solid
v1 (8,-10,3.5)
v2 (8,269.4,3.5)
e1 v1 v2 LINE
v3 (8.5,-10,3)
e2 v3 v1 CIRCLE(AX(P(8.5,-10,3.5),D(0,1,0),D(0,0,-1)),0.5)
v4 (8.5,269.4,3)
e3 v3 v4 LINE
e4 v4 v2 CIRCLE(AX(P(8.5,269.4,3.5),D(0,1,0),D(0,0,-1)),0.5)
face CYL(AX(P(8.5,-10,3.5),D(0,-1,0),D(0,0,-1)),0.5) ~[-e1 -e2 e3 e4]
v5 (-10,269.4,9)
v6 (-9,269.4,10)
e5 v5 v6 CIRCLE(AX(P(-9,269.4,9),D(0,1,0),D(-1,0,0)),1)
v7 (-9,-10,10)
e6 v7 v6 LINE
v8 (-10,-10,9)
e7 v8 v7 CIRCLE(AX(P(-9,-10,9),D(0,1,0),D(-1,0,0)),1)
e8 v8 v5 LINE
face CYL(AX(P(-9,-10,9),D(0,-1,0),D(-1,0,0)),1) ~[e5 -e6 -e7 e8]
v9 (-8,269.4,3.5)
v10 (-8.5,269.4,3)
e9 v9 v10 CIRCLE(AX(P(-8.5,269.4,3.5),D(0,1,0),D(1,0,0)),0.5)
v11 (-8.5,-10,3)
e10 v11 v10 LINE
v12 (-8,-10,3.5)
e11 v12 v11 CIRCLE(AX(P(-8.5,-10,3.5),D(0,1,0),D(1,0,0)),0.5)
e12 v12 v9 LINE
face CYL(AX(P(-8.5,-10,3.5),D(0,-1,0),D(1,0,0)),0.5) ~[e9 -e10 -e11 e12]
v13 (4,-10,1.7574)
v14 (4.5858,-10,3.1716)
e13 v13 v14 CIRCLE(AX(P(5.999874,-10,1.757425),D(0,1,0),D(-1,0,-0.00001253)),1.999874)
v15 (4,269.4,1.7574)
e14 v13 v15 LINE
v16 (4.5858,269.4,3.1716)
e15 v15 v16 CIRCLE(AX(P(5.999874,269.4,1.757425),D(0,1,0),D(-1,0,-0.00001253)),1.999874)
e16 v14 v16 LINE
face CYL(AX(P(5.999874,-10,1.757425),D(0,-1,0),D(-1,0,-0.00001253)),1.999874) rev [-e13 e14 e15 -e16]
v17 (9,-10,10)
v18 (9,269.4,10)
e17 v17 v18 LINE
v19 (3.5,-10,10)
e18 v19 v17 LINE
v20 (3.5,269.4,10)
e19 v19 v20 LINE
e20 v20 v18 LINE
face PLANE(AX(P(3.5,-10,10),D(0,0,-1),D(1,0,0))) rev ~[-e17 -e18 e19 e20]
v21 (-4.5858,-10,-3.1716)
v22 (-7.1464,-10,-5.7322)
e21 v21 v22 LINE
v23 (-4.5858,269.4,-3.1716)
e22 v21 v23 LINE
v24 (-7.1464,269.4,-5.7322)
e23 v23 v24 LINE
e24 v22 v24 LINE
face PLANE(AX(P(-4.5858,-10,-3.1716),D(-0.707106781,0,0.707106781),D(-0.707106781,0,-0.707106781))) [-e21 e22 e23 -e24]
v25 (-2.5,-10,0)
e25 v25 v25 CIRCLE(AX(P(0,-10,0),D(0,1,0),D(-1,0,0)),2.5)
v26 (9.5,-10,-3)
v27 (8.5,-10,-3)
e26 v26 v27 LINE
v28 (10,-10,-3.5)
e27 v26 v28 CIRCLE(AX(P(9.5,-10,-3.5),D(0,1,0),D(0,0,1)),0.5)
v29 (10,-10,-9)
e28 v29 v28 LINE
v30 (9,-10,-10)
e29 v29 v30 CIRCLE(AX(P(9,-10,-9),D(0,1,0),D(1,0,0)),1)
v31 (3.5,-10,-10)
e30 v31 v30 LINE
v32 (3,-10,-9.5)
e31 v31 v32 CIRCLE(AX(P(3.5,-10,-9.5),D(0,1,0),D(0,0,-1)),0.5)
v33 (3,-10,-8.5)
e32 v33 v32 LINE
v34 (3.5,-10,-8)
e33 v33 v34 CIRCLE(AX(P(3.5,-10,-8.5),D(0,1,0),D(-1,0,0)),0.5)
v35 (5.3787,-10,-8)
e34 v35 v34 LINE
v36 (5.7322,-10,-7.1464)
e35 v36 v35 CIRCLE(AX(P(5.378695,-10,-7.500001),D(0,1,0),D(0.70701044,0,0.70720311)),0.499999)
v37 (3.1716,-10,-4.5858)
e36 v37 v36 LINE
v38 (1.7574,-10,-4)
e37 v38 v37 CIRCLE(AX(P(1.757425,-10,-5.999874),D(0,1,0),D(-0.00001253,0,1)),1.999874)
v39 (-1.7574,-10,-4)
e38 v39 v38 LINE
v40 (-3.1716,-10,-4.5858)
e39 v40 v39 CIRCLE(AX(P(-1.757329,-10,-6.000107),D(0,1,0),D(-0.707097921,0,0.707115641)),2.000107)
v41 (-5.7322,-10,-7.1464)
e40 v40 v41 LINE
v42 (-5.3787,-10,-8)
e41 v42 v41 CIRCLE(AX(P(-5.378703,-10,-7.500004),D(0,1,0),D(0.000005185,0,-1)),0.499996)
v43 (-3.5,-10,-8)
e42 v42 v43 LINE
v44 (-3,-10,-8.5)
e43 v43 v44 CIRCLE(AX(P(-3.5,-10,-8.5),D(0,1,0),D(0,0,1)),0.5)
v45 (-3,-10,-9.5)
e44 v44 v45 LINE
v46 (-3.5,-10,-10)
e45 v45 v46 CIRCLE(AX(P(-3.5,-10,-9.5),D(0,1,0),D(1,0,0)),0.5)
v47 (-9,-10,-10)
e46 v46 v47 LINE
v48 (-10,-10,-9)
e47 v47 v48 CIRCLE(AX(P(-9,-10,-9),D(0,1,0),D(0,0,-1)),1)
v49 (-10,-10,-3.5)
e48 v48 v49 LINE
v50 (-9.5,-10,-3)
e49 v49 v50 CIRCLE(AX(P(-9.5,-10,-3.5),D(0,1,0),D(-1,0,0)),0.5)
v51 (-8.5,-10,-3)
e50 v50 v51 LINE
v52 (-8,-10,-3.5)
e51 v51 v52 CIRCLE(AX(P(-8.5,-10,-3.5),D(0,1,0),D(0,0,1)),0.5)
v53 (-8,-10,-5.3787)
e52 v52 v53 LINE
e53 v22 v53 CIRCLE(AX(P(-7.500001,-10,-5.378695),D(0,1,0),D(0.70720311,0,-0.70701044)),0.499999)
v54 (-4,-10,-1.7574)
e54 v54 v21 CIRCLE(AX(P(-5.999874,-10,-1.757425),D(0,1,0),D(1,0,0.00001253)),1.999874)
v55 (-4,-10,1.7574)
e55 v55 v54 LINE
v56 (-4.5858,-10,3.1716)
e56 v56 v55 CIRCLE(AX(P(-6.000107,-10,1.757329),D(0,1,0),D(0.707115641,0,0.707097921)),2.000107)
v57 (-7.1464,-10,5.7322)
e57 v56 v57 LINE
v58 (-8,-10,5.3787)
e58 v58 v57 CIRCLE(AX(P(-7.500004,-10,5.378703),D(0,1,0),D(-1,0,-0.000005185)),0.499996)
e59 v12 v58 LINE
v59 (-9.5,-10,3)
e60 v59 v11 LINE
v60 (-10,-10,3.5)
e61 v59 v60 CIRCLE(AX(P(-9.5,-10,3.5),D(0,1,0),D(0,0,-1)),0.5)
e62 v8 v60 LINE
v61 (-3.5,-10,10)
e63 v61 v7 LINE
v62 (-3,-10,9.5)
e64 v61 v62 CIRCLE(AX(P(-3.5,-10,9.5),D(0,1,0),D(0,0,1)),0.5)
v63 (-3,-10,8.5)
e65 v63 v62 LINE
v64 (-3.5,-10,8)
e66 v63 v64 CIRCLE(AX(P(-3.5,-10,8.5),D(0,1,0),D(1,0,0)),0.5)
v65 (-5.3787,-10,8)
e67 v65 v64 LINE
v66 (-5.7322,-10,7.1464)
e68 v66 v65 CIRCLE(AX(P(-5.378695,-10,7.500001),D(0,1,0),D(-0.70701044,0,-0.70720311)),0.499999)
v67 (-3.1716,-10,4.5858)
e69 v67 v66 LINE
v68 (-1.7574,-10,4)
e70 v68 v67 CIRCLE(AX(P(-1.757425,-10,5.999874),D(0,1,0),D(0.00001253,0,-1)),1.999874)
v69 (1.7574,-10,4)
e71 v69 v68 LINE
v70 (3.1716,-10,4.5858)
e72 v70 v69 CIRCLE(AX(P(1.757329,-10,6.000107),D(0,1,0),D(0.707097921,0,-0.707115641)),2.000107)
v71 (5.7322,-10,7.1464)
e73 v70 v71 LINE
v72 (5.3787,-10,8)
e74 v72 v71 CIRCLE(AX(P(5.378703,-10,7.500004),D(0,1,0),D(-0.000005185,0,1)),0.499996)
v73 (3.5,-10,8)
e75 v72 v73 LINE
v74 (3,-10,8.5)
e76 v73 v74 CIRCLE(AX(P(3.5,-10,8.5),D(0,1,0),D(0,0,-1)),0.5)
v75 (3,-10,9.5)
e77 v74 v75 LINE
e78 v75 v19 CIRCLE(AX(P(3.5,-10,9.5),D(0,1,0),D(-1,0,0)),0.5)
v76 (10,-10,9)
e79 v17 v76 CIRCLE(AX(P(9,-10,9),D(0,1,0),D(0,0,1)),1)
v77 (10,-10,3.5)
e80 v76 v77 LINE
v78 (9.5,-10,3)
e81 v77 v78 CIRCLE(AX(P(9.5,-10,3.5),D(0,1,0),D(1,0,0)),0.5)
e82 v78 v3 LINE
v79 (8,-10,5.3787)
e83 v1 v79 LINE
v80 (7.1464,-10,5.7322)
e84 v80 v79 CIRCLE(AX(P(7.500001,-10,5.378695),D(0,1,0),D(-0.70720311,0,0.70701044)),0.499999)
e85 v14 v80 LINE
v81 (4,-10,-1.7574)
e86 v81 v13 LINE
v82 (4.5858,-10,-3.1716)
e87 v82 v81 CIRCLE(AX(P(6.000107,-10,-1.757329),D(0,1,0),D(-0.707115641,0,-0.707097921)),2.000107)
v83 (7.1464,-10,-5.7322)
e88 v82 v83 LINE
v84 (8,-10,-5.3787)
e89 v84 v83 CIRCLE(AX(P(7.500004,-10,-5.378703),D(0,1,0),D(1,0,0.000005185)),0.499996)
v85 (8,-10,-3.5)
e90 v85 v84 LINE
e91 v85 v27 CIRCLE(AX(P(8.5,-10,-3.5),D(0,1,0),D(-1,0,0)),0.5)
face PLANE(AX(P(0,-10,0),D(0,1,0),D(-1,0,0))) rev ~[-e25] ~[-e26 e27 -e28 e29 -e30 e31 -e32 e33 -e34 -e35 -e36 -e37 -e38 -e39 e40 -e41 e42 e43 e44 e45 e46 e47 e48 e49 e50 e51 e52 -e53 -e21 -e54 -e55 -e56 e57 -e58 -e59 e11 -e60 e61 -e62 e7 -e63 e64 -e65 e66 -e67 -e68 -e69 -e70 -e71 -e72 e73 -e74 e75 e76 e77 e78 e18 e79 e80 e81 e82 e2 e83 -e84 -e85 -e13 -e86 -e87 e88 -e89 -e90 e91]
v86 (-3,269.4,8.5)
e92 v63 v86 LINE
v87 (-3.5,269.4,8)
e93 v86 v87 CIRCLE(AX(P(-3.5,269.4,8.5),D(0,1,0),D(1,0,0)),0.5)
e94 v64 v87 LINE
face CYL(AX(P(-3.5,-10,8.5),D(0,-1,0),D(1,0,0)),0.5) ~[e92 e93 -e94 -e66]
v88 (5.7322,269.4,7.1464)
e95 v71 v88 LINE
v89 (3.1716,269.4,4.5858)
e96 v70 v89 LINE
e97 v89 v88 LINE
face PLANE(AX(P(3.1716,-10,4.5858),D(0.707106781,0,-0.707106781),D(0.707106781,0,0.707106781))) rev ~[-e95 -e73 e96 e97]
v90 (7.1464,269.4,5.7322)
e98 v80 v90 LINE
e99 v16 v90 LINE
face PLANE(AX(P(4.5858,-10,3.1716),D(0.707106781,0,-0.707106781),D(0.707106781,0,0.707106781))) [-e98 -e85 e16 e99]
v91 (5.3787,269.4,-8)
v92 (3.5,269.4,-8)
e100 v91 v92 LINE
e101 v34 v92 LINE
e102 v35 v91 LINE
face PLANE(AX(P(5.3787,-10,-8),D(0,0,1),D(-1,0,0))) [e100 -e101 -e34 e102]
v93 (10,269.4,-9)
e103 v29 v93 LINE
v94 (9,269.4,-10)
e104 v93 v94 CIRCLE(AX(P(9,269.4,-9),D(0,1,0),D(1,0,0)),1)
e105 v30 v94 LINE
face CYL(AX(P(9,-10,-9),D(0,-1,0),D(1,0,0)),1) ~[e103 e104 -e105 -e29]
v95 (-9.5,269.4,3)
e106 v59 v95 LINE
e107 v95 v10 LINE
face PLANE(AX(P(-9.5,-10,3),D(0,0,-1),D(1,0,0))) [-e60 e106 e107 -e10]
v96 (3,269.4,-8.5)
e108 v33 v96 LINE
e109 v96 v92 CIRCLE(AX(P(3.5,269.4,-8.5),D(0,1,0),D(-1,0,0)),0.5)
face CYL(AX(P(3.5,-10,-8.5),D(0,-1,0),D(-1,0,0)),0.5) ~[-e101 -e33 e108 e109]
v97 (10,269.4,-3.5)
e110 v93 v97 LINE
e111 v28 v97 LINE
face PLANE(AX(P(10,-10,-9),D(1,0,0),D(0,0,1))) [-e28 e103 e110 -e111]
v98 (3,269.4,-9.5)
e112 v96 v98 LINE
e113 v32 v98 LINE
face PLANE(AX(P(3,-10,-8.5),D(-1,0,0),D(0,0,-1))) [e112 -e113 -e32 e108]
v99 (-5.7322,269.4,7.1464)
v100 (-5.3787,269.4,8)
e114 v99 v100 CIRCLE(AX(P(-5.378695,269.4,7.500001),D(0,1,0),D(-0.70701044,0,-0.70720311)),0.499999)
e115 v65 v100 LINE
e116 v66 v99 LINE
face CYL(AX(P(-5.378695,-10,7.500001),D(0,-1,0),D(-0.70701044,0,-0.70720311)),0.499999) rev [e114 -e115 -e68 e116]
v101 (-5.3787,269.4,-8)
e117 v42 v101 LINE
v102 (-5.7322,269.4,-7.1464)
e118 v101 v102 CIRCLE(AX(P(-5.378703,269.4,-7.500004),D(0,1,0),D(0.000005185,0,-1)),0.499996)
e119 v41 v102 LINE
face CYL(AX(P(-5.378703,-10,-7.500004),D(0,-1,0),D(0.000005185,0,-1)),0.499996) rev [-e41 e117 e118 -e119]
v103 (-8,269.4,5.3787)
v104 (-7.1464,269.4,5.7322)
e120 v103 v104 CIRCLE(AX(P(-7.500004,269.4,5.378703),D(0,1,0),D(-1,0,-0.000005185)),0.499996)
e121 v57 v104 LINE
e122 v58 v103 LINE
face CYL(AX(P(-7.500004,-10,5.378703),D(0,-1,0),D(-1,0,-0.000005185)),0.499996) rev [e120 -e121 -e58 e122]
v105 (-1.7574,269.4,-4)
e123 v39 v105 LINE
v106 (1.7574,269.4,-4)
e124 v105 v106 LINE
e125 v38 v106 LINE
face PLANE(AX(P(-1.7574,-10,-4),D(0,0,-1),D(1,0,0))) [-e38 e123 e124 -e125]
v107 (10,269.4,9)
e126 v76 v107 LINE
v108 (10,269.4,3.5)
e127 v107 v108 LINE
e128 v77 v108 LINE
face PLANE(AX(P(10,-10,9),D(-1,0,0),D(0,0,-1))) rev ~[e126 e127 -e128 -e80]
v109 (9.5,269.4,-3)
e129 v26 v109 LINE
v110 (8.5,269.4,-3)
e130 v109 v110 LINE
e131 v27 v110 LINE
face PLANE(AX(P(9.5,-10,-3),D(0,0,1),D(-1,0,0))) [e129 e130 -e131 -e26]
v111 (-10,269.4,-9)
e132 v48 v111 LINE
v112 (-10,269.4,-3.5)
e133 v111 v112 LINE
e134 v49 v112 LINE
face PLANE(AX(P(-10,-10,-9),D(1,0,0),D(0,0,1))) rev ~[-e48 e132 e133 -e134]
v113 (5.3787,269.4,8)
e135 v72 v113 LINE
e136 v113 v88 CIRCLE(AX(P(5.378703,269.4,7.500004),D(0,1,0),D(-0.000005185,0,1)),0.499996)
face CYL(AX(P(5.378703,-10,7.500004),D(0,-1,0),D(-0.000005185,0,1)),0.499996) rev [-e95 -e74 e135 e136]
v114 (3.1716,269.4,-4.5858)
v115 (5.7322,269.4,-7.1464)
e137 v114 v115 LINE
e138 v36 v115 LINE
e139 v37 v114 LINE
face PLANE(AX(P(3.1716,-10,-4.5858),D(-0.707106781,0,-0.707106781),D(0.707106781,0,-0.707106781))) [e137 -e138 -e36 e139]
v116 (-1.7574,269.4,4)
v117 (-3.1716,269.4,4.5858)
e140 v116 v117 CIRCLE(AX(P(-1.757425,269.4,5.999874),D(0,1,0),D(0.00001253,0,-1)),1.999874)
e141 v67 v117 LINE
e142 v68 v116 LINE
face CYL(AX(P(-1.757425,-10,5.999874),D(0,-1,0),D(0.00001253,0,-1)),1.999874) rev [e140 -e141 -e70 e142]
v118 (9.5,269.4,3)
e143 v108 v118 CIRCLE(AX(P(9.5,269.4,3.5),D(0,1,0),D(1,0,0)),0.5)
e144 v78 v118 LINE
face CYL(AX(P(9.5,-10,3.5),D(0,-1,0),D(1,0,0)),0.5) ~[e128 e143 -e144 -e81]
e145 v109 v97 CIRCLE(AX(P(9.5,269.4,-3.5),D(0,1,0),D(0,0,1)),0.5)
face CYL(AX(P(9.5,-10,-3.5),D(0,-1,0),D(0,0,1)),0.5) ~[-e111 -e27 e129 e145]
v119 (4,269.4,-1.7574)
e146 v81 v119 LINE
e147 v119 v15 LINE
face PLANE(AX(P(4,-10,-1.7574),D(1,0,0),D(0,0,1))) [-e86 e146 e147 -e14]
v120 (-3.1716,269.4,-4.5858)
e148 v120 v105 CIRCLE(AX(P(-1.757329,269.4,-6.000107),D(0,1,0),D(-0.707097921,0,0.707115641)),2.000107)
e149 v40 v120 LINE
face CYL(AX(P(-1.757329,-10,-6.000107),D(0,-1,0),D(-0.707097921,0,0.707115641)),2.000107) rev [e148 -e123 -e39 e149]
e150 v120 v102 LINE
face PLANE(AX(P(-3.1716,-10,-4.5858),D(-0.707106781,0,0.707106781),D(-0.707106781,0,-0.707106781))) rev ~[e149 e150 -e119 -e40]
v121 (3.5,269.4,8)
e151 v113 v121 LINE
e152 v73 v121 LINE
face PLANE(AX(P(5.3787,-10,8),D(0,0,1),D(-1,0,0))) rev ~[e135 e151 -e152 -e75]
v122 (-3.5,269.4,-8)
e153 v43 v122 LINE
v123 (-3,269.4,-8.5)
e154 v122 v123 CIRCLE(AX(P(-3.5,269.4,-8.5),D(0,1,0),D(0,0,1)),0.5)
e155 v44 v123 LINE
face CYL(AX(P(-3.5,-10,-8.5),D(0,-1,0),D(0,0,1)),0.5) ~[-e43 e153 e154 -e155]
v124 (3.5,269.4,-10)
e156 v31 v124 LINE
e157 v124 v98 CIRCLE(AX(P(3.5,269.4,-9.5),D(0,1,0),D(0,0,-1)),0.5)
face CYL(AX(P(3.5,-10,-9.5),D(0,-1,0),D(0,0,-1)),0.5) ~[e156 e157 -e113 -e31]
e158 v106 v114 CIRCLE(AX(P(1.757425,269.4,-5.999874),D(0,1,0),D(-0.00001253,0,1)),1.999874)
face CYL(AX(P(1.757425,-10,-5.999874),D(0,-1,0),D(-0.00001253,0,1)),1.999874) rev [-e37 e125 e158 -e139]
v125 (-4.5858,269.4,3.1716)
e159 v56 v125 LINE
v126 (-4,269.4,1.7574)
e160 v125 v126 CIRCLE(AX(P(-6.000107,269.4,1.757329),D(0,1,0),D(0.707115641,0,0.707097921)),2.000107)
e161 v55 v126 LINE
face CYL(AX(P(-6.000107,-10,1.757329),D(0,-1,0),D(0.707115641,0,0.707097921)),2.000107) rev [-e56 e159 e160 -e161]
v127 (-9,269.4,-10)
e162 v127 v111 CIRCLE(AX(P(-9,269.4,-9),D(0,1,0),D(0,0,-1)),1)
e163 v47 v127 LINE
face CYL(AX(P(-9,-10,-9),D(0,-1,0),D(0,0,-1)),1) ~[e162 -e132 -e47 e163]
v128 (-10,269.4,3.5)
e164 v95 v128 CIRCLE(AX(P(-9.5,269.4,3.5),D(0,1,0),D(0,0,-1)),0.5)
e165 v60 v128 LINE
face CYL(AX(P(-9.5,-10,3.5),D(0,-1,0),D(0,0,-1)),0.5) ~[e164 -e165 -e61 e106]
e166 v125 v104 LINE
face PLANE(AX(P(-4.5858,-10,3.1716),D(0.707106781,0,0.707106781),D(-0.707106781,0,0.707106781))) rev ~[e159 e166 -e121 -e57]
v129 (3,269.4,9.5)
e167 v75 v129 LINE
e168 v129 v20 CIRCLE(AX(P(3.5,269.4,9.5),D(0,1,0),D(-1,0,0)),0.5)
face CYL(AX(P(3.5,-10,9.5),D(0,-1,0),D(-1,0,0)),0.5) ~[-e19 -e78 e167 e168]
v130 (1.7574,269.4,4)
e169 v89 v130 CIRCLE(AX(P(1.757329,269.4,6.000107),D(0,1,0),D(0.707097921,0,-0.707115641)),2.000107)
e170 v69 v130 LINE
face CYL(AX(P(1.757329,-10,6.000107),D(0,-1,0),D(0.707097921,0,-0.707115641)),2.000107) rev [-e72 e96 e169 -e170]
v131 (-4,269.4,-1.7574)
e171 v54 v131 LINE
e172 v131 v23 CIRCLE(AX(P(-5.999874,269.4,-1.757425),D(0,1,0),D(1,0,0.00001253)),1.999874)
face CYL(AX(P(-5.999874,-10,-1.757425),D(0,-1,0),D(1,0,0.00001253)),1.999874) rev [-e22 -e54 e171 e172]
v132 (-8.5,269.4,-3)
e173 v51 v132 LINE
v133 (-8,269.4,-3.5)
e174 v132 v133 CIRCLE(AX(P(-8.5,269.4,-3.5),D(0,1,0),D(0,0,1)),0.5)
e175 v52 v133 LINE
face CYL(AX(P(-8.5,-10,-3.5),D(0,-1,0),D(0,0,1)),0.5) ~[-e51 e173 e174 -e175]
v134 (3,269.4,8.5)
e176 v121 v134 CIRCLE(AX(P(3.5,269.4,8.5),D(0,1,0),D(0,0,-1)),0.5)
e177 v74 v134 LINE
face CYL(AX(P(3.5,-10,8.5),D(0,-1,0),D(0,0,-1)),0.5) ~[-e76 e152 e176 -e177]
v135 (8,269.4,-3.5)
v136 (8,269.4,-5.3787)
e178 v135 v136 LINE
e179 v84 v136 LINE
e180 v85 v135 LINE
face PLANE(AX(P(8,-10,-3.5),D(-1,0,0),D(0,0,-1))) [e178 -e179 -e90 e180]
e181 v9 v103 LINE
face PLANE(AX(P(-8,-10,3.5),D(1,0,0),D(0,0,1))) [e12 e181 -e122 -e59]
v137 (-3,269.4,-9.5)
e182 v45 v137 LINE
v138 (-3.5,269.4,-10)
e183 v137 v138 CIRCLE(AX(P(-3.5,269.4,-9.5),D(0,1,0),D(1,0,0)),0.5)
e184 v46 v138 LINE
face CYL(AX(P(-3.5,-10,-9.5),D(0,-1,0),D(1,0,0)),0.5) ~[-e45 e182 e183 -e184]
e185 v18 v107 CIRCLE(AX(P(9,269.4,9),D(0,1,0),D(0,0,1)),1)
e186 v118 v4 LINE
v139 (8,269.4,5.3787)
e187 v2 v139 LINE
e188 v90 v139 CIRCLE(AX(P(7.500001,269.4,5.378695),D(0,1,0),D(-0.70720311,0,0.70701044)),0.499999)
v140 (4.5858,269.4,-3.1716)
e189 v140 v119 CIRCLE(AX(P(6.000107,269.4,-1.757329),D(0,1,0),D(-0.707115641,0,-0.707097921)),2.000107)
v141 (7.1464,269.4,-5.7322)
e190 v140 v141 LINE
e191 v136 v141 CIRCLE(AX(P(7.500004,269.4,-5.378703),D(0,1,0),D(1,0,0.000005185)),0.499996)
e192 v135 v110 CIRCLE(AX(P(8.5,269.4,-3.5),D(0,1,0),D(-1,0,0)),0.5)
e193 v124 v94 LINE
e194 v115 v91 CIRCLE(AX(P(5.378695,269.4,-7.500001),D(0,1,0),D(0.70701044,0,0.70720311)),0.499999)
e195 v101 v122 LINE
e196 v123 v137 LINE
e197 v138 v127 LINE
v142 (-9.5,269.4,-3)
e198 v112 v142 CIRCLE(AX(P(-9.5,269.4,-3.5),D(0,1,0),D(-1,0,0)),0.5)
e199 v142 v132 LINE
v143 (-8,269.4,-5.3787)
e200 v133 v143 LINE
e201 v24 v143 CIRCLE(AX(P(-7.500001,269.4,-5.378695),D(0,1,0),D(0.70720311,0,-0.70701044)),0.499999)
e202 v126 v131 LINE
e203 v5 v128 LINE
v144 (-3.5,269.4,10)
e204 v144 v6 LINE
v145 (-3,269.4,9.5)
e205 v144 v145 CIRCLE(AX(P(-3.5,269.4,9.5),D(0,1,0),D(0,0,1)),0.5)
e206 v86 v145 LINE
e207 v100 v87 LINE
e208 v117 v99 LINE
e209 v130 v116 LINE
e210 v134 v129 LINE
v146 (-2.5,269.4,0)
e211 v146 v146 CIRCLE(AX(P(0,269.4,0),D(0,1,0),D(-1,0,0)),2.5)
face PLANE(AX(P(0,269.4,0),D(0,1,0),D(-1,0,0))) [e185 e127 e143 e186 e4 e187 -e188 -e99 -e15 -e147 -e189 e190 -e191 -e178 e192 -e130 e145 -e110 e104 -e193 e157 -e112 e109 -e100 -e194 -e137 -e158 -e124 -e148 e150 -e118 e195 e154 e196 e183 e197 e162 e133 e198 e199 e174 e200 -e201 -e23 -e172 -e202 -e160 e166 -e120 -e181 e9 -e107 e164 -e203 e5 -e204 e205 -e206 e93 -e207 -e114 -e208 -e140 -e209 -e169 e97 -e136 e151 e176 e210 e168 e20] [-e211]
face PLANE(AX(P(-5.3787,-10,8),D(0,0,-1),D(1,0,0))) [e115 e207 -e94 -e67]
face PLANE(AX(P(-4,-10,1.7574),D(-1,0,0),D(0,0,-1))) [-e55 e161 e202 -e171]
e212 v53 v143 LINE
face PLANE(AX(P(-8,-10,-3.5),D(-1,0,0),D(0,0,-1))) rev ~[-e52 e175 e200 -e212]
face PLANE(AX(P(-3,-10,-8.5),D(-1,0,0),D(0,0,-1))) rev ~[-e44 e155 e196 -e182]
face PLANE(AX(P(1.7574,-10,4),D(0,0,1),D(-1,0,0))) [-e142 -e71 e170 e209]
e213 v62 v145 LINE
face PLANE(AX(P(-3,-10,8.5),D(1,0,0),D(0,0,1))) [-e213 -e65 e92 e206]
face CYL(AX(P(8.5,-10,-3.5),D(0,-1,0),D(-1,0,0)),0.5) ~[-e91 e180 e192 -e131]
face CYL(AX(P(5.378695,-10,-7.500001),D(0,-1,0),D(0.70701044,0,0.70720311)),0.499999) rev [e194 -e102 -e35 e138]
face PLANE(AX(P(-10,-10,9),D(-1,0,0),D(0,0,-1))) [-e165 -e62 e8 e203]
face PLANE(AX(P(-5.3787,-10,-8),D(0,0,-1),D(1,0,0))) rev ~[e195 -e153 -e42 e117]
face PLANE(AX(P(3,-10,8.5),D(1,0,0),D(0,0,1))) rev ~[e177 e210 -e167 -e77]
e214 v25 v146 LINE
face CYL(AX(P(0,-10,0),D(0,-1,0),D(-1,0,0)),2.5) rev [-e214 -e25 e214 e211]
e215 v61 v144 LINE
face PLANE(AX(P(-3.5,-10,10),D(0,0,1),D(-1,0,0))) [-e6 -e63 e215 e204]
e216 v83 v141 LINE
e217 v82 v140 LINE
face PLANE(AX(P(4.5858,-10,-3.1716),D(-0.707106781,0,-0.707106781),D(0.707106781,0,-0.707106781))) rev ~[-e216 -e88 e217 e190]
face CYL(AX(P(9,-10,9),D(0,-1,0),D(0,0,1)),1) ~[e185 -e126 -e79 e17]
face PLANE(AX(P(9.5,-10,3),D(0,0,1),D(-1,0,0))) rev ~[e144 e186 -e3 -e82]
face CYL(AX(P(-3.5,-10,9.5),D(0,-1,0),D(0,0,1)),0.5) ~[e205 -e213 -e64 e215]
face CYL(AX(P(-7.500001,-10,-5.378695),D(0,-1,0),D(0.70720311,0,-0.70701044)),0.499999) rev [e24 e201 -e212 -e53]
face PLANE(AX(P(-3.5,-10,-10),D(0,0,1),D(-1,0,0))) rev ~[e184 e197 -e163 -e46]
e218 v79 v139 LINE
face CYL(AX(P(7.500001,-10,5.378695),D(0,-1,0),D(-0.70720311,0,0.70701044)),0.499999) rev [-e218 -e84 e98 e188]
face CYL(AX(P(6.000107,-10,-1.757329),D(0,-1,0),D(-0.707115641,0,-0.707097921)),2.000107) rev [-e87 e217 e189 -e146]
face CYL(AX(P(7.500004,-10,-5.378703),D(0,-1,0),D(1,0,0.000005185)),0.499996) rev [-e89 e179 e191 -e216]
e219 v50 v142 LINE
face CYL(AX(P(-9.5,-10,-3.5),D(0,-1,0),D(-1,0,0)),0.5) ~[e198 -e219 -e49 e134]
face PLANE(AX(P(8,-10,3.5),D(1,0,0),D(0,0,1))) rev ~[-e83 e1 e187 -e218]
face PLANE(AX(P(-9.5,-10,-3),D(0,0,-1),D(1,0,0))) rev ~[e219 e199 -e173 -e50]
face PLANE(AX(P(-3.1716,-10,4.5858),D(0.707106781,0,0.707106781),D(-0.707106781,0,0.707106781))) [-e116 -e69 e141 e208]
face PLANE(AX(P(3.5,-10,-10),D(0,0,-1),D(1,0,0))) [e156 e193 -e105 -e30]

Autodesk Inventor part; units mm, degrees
ref_plane "Start Plane" through (0, -10, 0) normal (0, 1, 0) x (-1, 0, 0)
ref_plane "End Plane" through (0, 269.4, 0) normal (0, 1, 0) x (-1, 0, 0)
sketch "Sketch" plane through (0, 0, 0) normal (0, 1, 0) x (-1, 0, 0)
  line L0 (-1.7574, 4) -> (1.7574, 4)
  line L1 (4, 1.7574) -> (4, -1.7574)
  line L2 (1.7574, -4) -> (-1.7574, -4)
  line L3 (-4, -1.7574) -> (-4, 1.7574)
  line L4 (4.5858, -3.1716) -> (7.1464, -5.7322)
  line L5 (3.1716, -4.5858) -> (5.7322, -7.1464)
  line L6 (5.3787, -8) -> (3.5, -8)
  line L7 (3, -8.5) -> (3, -9.5)
  line L8 (3.5, -10) -> (9, -10)
  line L9 (10, -9) -> (10, -3.5)
  line L10 (9.5, -3) -> (8.5, -3)
  line L11 (8, -3.5) -> (8, -5.3787)
  line L12 (4, 0) -> (-4, 0) construction
  line L13 (0, -4) -> (0, 4) construction
  arc A0 (4, -1.7574) -> (4.5858, -3.1716) centre (6, -1.7574) ccw
  arc A1 (3.1716, -4.5858) -> (1.7574, -4) centre (1.7574, -6) ccw
  arc A2 (3.5, -8) -> (3, -8.5) centre (3.5, -8.5) ccw
  arc A3 (3, -9.5) -> (3.5, -10) centre (3.5, -9.5) ccw
  arc A4 (10, -3.5) -> (9.5, -3) centre (9.5, -3.5) ccw
  arc A5 (8.5, -3) -> (8, -3.5) centre (8.5, -3.5) ccw
  arc A6 (7.1464, -5.7322) -> (8, -5.3787) centre (7.5, -5.3787) ccw
  arc A7 (5.3787, -8) -> (5.7322, -7.1464) centre (5.3787, -7.5) ccw
  arc A8 (9, -10) -> (10, -9) centre (9, -9) ccw
  line L14 (-4.5858, -3.1716) -> (-7.1464, -5.7322)
  line L15 (-3.1716, -4.5858) -> (-5.7322, -7.1464)
  line L16 (-5.3787, -8) -> (-3.5, -8)
  line L17 (-3, -8.5) -> (-3, -9.5)
  line L18 (-3.5, -10) -> (-9, -10)
  line L19 (-10, -9) -> (-10, -3.5)
  line L20 (-9.5, -3) -> (-8.5, -3)
  line L21 (-8, -3.5) -> (-8, -5.3787)
  arc A9 (-4.5858, -3.1716) -> (-4, -1.7574) centre (-6, -1.7574) ccw
  arc A10 (-1.7574, -4) -> (-3.1716, -4.5858) centre (-1.7574, -6) ccw
  arc A11 (-3, -8.5) -> (-3.5, -8) centre (-3.5, -8.5) ccw
  arc A12 (-3.5, -10) -> (-3, -9.5) centre (-3.5, -9.5) ccw
  arc A13 (-9.5, -3) -> (-10, -3.5) centre (-9.5, -3.5) ccw
  arc A14 (-8, -3.5) -> (-8.5, -3) centre (-8.5, -3.5) ccw
  arc A15 (-8, -5.3787) -> (-7.1464, -5.7322) centre (-7.5, -5.3787) ccw
  arc A16 (-5.7322, -7.1464) -> (-5.3787, -8) centre (-5.3787, -7.5) ccw
  arc A17 (-10, -9) -> (-9, -10) centre (-9, -9) ccw
  line L22 (4.5858, 3.1716) -> (7.1464, 5.7322)
  line L23 (3.1716, 4.5858) -> (5.7322, 7.1464)
  line L24 (5.3787, 8) -> (3.5, 8)
  line L25 (3, 8.5) -> (3, 9.5)
  line L26 (3.5, 10) -> (9, 10)
  line L27 (10, 9) -> (10, 3.5)
  line L28 (9.5, 3) -> (8.5, 3)
  line L29 (8, 3.5) -> (8, 5.3787)
  arc A18 (4.5858, 3.1716) -> (4, 1.7574) centre (6, 1.7574) ccw
  arc A19 (1.7574, 4) -> (3.1716, 4.5858) centre (1.7574, 6) ccw
  arc A20 (3, 8.5) -> (3.5, 8) centre (3.5, 8.5) ccw
  arc A21 (3.5, 10) -> (3, 9.5) centre (3.5, 9.5) ccw
  arc A22 (9.5, 3) -> (10, 3.5) centre (9.5, 3.5) ccw
  arc A23 (8, 3.5) -> (8.5, 3) centre (8.5, 3.5) ccw
  arc A24 (8, 5.3787) -> (7.1464, 5.7322) centre (7.5, 5.3787) ccw
  arc A25 (5.7322, 7.1464) -> (5.3787, 8) centre (5.3787, 7.5) ccw
  arc A26 (10, 9) -> (9, 10) centre (9, 9) ccw
  line L30 (-10, 9) -> (-10, 3.5)
  arc A27 (-9, 10) -> (-10, 9) centre (-9, 9) ccw
  arc A28 (-10, 3.5) -> (-9.5, 3) centre (-9.5, 3.5) ccw
  line L31 (-9.5, 3) -> (-8.5, 3)
  arc A29 (-8.5, 3) -> (-8, 3.5) centre (-8.5, 3.5) ccw
  line L32 (-8, 3.5) -> (-8, 5.3787)
  arc A30 (-7.1464, 5.7322) -> (-8, 5.3787) centre (-7.5, 5.3787) ccw
  line L33 (-4.5858, 3.1716) -> (-7.1464, 5.7322)
  line L34 (-3.1716, 4.5858) -> (-5.7322, 7.1464)
  arc A31 (-3.1716, 4.5858) -> (-1.7574, 4) centre (-1.7574, 6) ccw
  arc A32 (-4, 1.7574) -> (-4.5858, 3.1716) centre (-6, 1.7574) ccw
  arc A33 (-5.3787, 8) -> (-5.7322, 7.1464) centre (-5.3787, 7.5) ccw
  line L35 (-5.3787, 8) -> (-3.5, 8)
  arc A34 (-3.5, 8) -> (-3, 8.5) centre (-3.5, 8.5) ccw
  line L36 (-3, 8.5) -> (-3, 9.5)
  arc A35 (-3, 9.5) -> (-3.5, 10) centre (-3.5, 9.5) ccw
  line L37 (-3.5, 10) -> (-9, 10)
  circle A36 centre (0, 0) radius 2.5
  point P0 (3, -8)
  point P1 (3, -10)
  point P2 (10, -10)
  dimension "d3" = 2
  dimension "d4" = 2
  dimension "d5" = 7
  dimension "d6" = 2
  dimension "d7" = 0.5
  dimension "d8" = 1
  dimension "d9" = 20
  dimension "d10" = 20
  dimension "d11" = 8
  dimension "d13" = 5
  dimension "d14" = 8
extrude "Body" add sketch "Sketch" along normal up to surface (279.4 mm away) from surface at -10
sketch "Sketch4" plane through (0, 0, 0) normal (0, 1, 0) x (-1, 0, 0)
  line L0 (0, 0) -> (10, 0)
ref_plane "Work Plane4" through (0, 0, 0) normal (0, 0, -1) x (-1, 0, 0)
sketch "Sketch5" plane through (0, 0, 0) normal (0, 0, -1) x (-1, 0, 0)
  line L0 (-2, -10) -> (12, -10)
  line L1 (-2, 269.4) -> (12, 269.4)
  dimension "d22" = 279.4
ref_plane "Work Plane5" through (9, 269.4, 0) normal (0, 1, 0) x (1, 0, 0)
split "Split1" plane through (9, 269.4, 0) removes the side toward (0, 1, 0)
ref_plane "Work Plane6" through (0, -10, 3.5) normal (0, -1, 0) x (1, 0, 0)
split "Split2" plane through (0, -10, 3.5) removes the side toward (0, -1, 0)
equation "\"d18\" = Length + G_OFFSET_END"
equation "\"G_L\" = d22"
equation "\"Length\" = 279.4"
equation "\"G_OFFSET_END\" = -10"
properties part number "A3.3"
